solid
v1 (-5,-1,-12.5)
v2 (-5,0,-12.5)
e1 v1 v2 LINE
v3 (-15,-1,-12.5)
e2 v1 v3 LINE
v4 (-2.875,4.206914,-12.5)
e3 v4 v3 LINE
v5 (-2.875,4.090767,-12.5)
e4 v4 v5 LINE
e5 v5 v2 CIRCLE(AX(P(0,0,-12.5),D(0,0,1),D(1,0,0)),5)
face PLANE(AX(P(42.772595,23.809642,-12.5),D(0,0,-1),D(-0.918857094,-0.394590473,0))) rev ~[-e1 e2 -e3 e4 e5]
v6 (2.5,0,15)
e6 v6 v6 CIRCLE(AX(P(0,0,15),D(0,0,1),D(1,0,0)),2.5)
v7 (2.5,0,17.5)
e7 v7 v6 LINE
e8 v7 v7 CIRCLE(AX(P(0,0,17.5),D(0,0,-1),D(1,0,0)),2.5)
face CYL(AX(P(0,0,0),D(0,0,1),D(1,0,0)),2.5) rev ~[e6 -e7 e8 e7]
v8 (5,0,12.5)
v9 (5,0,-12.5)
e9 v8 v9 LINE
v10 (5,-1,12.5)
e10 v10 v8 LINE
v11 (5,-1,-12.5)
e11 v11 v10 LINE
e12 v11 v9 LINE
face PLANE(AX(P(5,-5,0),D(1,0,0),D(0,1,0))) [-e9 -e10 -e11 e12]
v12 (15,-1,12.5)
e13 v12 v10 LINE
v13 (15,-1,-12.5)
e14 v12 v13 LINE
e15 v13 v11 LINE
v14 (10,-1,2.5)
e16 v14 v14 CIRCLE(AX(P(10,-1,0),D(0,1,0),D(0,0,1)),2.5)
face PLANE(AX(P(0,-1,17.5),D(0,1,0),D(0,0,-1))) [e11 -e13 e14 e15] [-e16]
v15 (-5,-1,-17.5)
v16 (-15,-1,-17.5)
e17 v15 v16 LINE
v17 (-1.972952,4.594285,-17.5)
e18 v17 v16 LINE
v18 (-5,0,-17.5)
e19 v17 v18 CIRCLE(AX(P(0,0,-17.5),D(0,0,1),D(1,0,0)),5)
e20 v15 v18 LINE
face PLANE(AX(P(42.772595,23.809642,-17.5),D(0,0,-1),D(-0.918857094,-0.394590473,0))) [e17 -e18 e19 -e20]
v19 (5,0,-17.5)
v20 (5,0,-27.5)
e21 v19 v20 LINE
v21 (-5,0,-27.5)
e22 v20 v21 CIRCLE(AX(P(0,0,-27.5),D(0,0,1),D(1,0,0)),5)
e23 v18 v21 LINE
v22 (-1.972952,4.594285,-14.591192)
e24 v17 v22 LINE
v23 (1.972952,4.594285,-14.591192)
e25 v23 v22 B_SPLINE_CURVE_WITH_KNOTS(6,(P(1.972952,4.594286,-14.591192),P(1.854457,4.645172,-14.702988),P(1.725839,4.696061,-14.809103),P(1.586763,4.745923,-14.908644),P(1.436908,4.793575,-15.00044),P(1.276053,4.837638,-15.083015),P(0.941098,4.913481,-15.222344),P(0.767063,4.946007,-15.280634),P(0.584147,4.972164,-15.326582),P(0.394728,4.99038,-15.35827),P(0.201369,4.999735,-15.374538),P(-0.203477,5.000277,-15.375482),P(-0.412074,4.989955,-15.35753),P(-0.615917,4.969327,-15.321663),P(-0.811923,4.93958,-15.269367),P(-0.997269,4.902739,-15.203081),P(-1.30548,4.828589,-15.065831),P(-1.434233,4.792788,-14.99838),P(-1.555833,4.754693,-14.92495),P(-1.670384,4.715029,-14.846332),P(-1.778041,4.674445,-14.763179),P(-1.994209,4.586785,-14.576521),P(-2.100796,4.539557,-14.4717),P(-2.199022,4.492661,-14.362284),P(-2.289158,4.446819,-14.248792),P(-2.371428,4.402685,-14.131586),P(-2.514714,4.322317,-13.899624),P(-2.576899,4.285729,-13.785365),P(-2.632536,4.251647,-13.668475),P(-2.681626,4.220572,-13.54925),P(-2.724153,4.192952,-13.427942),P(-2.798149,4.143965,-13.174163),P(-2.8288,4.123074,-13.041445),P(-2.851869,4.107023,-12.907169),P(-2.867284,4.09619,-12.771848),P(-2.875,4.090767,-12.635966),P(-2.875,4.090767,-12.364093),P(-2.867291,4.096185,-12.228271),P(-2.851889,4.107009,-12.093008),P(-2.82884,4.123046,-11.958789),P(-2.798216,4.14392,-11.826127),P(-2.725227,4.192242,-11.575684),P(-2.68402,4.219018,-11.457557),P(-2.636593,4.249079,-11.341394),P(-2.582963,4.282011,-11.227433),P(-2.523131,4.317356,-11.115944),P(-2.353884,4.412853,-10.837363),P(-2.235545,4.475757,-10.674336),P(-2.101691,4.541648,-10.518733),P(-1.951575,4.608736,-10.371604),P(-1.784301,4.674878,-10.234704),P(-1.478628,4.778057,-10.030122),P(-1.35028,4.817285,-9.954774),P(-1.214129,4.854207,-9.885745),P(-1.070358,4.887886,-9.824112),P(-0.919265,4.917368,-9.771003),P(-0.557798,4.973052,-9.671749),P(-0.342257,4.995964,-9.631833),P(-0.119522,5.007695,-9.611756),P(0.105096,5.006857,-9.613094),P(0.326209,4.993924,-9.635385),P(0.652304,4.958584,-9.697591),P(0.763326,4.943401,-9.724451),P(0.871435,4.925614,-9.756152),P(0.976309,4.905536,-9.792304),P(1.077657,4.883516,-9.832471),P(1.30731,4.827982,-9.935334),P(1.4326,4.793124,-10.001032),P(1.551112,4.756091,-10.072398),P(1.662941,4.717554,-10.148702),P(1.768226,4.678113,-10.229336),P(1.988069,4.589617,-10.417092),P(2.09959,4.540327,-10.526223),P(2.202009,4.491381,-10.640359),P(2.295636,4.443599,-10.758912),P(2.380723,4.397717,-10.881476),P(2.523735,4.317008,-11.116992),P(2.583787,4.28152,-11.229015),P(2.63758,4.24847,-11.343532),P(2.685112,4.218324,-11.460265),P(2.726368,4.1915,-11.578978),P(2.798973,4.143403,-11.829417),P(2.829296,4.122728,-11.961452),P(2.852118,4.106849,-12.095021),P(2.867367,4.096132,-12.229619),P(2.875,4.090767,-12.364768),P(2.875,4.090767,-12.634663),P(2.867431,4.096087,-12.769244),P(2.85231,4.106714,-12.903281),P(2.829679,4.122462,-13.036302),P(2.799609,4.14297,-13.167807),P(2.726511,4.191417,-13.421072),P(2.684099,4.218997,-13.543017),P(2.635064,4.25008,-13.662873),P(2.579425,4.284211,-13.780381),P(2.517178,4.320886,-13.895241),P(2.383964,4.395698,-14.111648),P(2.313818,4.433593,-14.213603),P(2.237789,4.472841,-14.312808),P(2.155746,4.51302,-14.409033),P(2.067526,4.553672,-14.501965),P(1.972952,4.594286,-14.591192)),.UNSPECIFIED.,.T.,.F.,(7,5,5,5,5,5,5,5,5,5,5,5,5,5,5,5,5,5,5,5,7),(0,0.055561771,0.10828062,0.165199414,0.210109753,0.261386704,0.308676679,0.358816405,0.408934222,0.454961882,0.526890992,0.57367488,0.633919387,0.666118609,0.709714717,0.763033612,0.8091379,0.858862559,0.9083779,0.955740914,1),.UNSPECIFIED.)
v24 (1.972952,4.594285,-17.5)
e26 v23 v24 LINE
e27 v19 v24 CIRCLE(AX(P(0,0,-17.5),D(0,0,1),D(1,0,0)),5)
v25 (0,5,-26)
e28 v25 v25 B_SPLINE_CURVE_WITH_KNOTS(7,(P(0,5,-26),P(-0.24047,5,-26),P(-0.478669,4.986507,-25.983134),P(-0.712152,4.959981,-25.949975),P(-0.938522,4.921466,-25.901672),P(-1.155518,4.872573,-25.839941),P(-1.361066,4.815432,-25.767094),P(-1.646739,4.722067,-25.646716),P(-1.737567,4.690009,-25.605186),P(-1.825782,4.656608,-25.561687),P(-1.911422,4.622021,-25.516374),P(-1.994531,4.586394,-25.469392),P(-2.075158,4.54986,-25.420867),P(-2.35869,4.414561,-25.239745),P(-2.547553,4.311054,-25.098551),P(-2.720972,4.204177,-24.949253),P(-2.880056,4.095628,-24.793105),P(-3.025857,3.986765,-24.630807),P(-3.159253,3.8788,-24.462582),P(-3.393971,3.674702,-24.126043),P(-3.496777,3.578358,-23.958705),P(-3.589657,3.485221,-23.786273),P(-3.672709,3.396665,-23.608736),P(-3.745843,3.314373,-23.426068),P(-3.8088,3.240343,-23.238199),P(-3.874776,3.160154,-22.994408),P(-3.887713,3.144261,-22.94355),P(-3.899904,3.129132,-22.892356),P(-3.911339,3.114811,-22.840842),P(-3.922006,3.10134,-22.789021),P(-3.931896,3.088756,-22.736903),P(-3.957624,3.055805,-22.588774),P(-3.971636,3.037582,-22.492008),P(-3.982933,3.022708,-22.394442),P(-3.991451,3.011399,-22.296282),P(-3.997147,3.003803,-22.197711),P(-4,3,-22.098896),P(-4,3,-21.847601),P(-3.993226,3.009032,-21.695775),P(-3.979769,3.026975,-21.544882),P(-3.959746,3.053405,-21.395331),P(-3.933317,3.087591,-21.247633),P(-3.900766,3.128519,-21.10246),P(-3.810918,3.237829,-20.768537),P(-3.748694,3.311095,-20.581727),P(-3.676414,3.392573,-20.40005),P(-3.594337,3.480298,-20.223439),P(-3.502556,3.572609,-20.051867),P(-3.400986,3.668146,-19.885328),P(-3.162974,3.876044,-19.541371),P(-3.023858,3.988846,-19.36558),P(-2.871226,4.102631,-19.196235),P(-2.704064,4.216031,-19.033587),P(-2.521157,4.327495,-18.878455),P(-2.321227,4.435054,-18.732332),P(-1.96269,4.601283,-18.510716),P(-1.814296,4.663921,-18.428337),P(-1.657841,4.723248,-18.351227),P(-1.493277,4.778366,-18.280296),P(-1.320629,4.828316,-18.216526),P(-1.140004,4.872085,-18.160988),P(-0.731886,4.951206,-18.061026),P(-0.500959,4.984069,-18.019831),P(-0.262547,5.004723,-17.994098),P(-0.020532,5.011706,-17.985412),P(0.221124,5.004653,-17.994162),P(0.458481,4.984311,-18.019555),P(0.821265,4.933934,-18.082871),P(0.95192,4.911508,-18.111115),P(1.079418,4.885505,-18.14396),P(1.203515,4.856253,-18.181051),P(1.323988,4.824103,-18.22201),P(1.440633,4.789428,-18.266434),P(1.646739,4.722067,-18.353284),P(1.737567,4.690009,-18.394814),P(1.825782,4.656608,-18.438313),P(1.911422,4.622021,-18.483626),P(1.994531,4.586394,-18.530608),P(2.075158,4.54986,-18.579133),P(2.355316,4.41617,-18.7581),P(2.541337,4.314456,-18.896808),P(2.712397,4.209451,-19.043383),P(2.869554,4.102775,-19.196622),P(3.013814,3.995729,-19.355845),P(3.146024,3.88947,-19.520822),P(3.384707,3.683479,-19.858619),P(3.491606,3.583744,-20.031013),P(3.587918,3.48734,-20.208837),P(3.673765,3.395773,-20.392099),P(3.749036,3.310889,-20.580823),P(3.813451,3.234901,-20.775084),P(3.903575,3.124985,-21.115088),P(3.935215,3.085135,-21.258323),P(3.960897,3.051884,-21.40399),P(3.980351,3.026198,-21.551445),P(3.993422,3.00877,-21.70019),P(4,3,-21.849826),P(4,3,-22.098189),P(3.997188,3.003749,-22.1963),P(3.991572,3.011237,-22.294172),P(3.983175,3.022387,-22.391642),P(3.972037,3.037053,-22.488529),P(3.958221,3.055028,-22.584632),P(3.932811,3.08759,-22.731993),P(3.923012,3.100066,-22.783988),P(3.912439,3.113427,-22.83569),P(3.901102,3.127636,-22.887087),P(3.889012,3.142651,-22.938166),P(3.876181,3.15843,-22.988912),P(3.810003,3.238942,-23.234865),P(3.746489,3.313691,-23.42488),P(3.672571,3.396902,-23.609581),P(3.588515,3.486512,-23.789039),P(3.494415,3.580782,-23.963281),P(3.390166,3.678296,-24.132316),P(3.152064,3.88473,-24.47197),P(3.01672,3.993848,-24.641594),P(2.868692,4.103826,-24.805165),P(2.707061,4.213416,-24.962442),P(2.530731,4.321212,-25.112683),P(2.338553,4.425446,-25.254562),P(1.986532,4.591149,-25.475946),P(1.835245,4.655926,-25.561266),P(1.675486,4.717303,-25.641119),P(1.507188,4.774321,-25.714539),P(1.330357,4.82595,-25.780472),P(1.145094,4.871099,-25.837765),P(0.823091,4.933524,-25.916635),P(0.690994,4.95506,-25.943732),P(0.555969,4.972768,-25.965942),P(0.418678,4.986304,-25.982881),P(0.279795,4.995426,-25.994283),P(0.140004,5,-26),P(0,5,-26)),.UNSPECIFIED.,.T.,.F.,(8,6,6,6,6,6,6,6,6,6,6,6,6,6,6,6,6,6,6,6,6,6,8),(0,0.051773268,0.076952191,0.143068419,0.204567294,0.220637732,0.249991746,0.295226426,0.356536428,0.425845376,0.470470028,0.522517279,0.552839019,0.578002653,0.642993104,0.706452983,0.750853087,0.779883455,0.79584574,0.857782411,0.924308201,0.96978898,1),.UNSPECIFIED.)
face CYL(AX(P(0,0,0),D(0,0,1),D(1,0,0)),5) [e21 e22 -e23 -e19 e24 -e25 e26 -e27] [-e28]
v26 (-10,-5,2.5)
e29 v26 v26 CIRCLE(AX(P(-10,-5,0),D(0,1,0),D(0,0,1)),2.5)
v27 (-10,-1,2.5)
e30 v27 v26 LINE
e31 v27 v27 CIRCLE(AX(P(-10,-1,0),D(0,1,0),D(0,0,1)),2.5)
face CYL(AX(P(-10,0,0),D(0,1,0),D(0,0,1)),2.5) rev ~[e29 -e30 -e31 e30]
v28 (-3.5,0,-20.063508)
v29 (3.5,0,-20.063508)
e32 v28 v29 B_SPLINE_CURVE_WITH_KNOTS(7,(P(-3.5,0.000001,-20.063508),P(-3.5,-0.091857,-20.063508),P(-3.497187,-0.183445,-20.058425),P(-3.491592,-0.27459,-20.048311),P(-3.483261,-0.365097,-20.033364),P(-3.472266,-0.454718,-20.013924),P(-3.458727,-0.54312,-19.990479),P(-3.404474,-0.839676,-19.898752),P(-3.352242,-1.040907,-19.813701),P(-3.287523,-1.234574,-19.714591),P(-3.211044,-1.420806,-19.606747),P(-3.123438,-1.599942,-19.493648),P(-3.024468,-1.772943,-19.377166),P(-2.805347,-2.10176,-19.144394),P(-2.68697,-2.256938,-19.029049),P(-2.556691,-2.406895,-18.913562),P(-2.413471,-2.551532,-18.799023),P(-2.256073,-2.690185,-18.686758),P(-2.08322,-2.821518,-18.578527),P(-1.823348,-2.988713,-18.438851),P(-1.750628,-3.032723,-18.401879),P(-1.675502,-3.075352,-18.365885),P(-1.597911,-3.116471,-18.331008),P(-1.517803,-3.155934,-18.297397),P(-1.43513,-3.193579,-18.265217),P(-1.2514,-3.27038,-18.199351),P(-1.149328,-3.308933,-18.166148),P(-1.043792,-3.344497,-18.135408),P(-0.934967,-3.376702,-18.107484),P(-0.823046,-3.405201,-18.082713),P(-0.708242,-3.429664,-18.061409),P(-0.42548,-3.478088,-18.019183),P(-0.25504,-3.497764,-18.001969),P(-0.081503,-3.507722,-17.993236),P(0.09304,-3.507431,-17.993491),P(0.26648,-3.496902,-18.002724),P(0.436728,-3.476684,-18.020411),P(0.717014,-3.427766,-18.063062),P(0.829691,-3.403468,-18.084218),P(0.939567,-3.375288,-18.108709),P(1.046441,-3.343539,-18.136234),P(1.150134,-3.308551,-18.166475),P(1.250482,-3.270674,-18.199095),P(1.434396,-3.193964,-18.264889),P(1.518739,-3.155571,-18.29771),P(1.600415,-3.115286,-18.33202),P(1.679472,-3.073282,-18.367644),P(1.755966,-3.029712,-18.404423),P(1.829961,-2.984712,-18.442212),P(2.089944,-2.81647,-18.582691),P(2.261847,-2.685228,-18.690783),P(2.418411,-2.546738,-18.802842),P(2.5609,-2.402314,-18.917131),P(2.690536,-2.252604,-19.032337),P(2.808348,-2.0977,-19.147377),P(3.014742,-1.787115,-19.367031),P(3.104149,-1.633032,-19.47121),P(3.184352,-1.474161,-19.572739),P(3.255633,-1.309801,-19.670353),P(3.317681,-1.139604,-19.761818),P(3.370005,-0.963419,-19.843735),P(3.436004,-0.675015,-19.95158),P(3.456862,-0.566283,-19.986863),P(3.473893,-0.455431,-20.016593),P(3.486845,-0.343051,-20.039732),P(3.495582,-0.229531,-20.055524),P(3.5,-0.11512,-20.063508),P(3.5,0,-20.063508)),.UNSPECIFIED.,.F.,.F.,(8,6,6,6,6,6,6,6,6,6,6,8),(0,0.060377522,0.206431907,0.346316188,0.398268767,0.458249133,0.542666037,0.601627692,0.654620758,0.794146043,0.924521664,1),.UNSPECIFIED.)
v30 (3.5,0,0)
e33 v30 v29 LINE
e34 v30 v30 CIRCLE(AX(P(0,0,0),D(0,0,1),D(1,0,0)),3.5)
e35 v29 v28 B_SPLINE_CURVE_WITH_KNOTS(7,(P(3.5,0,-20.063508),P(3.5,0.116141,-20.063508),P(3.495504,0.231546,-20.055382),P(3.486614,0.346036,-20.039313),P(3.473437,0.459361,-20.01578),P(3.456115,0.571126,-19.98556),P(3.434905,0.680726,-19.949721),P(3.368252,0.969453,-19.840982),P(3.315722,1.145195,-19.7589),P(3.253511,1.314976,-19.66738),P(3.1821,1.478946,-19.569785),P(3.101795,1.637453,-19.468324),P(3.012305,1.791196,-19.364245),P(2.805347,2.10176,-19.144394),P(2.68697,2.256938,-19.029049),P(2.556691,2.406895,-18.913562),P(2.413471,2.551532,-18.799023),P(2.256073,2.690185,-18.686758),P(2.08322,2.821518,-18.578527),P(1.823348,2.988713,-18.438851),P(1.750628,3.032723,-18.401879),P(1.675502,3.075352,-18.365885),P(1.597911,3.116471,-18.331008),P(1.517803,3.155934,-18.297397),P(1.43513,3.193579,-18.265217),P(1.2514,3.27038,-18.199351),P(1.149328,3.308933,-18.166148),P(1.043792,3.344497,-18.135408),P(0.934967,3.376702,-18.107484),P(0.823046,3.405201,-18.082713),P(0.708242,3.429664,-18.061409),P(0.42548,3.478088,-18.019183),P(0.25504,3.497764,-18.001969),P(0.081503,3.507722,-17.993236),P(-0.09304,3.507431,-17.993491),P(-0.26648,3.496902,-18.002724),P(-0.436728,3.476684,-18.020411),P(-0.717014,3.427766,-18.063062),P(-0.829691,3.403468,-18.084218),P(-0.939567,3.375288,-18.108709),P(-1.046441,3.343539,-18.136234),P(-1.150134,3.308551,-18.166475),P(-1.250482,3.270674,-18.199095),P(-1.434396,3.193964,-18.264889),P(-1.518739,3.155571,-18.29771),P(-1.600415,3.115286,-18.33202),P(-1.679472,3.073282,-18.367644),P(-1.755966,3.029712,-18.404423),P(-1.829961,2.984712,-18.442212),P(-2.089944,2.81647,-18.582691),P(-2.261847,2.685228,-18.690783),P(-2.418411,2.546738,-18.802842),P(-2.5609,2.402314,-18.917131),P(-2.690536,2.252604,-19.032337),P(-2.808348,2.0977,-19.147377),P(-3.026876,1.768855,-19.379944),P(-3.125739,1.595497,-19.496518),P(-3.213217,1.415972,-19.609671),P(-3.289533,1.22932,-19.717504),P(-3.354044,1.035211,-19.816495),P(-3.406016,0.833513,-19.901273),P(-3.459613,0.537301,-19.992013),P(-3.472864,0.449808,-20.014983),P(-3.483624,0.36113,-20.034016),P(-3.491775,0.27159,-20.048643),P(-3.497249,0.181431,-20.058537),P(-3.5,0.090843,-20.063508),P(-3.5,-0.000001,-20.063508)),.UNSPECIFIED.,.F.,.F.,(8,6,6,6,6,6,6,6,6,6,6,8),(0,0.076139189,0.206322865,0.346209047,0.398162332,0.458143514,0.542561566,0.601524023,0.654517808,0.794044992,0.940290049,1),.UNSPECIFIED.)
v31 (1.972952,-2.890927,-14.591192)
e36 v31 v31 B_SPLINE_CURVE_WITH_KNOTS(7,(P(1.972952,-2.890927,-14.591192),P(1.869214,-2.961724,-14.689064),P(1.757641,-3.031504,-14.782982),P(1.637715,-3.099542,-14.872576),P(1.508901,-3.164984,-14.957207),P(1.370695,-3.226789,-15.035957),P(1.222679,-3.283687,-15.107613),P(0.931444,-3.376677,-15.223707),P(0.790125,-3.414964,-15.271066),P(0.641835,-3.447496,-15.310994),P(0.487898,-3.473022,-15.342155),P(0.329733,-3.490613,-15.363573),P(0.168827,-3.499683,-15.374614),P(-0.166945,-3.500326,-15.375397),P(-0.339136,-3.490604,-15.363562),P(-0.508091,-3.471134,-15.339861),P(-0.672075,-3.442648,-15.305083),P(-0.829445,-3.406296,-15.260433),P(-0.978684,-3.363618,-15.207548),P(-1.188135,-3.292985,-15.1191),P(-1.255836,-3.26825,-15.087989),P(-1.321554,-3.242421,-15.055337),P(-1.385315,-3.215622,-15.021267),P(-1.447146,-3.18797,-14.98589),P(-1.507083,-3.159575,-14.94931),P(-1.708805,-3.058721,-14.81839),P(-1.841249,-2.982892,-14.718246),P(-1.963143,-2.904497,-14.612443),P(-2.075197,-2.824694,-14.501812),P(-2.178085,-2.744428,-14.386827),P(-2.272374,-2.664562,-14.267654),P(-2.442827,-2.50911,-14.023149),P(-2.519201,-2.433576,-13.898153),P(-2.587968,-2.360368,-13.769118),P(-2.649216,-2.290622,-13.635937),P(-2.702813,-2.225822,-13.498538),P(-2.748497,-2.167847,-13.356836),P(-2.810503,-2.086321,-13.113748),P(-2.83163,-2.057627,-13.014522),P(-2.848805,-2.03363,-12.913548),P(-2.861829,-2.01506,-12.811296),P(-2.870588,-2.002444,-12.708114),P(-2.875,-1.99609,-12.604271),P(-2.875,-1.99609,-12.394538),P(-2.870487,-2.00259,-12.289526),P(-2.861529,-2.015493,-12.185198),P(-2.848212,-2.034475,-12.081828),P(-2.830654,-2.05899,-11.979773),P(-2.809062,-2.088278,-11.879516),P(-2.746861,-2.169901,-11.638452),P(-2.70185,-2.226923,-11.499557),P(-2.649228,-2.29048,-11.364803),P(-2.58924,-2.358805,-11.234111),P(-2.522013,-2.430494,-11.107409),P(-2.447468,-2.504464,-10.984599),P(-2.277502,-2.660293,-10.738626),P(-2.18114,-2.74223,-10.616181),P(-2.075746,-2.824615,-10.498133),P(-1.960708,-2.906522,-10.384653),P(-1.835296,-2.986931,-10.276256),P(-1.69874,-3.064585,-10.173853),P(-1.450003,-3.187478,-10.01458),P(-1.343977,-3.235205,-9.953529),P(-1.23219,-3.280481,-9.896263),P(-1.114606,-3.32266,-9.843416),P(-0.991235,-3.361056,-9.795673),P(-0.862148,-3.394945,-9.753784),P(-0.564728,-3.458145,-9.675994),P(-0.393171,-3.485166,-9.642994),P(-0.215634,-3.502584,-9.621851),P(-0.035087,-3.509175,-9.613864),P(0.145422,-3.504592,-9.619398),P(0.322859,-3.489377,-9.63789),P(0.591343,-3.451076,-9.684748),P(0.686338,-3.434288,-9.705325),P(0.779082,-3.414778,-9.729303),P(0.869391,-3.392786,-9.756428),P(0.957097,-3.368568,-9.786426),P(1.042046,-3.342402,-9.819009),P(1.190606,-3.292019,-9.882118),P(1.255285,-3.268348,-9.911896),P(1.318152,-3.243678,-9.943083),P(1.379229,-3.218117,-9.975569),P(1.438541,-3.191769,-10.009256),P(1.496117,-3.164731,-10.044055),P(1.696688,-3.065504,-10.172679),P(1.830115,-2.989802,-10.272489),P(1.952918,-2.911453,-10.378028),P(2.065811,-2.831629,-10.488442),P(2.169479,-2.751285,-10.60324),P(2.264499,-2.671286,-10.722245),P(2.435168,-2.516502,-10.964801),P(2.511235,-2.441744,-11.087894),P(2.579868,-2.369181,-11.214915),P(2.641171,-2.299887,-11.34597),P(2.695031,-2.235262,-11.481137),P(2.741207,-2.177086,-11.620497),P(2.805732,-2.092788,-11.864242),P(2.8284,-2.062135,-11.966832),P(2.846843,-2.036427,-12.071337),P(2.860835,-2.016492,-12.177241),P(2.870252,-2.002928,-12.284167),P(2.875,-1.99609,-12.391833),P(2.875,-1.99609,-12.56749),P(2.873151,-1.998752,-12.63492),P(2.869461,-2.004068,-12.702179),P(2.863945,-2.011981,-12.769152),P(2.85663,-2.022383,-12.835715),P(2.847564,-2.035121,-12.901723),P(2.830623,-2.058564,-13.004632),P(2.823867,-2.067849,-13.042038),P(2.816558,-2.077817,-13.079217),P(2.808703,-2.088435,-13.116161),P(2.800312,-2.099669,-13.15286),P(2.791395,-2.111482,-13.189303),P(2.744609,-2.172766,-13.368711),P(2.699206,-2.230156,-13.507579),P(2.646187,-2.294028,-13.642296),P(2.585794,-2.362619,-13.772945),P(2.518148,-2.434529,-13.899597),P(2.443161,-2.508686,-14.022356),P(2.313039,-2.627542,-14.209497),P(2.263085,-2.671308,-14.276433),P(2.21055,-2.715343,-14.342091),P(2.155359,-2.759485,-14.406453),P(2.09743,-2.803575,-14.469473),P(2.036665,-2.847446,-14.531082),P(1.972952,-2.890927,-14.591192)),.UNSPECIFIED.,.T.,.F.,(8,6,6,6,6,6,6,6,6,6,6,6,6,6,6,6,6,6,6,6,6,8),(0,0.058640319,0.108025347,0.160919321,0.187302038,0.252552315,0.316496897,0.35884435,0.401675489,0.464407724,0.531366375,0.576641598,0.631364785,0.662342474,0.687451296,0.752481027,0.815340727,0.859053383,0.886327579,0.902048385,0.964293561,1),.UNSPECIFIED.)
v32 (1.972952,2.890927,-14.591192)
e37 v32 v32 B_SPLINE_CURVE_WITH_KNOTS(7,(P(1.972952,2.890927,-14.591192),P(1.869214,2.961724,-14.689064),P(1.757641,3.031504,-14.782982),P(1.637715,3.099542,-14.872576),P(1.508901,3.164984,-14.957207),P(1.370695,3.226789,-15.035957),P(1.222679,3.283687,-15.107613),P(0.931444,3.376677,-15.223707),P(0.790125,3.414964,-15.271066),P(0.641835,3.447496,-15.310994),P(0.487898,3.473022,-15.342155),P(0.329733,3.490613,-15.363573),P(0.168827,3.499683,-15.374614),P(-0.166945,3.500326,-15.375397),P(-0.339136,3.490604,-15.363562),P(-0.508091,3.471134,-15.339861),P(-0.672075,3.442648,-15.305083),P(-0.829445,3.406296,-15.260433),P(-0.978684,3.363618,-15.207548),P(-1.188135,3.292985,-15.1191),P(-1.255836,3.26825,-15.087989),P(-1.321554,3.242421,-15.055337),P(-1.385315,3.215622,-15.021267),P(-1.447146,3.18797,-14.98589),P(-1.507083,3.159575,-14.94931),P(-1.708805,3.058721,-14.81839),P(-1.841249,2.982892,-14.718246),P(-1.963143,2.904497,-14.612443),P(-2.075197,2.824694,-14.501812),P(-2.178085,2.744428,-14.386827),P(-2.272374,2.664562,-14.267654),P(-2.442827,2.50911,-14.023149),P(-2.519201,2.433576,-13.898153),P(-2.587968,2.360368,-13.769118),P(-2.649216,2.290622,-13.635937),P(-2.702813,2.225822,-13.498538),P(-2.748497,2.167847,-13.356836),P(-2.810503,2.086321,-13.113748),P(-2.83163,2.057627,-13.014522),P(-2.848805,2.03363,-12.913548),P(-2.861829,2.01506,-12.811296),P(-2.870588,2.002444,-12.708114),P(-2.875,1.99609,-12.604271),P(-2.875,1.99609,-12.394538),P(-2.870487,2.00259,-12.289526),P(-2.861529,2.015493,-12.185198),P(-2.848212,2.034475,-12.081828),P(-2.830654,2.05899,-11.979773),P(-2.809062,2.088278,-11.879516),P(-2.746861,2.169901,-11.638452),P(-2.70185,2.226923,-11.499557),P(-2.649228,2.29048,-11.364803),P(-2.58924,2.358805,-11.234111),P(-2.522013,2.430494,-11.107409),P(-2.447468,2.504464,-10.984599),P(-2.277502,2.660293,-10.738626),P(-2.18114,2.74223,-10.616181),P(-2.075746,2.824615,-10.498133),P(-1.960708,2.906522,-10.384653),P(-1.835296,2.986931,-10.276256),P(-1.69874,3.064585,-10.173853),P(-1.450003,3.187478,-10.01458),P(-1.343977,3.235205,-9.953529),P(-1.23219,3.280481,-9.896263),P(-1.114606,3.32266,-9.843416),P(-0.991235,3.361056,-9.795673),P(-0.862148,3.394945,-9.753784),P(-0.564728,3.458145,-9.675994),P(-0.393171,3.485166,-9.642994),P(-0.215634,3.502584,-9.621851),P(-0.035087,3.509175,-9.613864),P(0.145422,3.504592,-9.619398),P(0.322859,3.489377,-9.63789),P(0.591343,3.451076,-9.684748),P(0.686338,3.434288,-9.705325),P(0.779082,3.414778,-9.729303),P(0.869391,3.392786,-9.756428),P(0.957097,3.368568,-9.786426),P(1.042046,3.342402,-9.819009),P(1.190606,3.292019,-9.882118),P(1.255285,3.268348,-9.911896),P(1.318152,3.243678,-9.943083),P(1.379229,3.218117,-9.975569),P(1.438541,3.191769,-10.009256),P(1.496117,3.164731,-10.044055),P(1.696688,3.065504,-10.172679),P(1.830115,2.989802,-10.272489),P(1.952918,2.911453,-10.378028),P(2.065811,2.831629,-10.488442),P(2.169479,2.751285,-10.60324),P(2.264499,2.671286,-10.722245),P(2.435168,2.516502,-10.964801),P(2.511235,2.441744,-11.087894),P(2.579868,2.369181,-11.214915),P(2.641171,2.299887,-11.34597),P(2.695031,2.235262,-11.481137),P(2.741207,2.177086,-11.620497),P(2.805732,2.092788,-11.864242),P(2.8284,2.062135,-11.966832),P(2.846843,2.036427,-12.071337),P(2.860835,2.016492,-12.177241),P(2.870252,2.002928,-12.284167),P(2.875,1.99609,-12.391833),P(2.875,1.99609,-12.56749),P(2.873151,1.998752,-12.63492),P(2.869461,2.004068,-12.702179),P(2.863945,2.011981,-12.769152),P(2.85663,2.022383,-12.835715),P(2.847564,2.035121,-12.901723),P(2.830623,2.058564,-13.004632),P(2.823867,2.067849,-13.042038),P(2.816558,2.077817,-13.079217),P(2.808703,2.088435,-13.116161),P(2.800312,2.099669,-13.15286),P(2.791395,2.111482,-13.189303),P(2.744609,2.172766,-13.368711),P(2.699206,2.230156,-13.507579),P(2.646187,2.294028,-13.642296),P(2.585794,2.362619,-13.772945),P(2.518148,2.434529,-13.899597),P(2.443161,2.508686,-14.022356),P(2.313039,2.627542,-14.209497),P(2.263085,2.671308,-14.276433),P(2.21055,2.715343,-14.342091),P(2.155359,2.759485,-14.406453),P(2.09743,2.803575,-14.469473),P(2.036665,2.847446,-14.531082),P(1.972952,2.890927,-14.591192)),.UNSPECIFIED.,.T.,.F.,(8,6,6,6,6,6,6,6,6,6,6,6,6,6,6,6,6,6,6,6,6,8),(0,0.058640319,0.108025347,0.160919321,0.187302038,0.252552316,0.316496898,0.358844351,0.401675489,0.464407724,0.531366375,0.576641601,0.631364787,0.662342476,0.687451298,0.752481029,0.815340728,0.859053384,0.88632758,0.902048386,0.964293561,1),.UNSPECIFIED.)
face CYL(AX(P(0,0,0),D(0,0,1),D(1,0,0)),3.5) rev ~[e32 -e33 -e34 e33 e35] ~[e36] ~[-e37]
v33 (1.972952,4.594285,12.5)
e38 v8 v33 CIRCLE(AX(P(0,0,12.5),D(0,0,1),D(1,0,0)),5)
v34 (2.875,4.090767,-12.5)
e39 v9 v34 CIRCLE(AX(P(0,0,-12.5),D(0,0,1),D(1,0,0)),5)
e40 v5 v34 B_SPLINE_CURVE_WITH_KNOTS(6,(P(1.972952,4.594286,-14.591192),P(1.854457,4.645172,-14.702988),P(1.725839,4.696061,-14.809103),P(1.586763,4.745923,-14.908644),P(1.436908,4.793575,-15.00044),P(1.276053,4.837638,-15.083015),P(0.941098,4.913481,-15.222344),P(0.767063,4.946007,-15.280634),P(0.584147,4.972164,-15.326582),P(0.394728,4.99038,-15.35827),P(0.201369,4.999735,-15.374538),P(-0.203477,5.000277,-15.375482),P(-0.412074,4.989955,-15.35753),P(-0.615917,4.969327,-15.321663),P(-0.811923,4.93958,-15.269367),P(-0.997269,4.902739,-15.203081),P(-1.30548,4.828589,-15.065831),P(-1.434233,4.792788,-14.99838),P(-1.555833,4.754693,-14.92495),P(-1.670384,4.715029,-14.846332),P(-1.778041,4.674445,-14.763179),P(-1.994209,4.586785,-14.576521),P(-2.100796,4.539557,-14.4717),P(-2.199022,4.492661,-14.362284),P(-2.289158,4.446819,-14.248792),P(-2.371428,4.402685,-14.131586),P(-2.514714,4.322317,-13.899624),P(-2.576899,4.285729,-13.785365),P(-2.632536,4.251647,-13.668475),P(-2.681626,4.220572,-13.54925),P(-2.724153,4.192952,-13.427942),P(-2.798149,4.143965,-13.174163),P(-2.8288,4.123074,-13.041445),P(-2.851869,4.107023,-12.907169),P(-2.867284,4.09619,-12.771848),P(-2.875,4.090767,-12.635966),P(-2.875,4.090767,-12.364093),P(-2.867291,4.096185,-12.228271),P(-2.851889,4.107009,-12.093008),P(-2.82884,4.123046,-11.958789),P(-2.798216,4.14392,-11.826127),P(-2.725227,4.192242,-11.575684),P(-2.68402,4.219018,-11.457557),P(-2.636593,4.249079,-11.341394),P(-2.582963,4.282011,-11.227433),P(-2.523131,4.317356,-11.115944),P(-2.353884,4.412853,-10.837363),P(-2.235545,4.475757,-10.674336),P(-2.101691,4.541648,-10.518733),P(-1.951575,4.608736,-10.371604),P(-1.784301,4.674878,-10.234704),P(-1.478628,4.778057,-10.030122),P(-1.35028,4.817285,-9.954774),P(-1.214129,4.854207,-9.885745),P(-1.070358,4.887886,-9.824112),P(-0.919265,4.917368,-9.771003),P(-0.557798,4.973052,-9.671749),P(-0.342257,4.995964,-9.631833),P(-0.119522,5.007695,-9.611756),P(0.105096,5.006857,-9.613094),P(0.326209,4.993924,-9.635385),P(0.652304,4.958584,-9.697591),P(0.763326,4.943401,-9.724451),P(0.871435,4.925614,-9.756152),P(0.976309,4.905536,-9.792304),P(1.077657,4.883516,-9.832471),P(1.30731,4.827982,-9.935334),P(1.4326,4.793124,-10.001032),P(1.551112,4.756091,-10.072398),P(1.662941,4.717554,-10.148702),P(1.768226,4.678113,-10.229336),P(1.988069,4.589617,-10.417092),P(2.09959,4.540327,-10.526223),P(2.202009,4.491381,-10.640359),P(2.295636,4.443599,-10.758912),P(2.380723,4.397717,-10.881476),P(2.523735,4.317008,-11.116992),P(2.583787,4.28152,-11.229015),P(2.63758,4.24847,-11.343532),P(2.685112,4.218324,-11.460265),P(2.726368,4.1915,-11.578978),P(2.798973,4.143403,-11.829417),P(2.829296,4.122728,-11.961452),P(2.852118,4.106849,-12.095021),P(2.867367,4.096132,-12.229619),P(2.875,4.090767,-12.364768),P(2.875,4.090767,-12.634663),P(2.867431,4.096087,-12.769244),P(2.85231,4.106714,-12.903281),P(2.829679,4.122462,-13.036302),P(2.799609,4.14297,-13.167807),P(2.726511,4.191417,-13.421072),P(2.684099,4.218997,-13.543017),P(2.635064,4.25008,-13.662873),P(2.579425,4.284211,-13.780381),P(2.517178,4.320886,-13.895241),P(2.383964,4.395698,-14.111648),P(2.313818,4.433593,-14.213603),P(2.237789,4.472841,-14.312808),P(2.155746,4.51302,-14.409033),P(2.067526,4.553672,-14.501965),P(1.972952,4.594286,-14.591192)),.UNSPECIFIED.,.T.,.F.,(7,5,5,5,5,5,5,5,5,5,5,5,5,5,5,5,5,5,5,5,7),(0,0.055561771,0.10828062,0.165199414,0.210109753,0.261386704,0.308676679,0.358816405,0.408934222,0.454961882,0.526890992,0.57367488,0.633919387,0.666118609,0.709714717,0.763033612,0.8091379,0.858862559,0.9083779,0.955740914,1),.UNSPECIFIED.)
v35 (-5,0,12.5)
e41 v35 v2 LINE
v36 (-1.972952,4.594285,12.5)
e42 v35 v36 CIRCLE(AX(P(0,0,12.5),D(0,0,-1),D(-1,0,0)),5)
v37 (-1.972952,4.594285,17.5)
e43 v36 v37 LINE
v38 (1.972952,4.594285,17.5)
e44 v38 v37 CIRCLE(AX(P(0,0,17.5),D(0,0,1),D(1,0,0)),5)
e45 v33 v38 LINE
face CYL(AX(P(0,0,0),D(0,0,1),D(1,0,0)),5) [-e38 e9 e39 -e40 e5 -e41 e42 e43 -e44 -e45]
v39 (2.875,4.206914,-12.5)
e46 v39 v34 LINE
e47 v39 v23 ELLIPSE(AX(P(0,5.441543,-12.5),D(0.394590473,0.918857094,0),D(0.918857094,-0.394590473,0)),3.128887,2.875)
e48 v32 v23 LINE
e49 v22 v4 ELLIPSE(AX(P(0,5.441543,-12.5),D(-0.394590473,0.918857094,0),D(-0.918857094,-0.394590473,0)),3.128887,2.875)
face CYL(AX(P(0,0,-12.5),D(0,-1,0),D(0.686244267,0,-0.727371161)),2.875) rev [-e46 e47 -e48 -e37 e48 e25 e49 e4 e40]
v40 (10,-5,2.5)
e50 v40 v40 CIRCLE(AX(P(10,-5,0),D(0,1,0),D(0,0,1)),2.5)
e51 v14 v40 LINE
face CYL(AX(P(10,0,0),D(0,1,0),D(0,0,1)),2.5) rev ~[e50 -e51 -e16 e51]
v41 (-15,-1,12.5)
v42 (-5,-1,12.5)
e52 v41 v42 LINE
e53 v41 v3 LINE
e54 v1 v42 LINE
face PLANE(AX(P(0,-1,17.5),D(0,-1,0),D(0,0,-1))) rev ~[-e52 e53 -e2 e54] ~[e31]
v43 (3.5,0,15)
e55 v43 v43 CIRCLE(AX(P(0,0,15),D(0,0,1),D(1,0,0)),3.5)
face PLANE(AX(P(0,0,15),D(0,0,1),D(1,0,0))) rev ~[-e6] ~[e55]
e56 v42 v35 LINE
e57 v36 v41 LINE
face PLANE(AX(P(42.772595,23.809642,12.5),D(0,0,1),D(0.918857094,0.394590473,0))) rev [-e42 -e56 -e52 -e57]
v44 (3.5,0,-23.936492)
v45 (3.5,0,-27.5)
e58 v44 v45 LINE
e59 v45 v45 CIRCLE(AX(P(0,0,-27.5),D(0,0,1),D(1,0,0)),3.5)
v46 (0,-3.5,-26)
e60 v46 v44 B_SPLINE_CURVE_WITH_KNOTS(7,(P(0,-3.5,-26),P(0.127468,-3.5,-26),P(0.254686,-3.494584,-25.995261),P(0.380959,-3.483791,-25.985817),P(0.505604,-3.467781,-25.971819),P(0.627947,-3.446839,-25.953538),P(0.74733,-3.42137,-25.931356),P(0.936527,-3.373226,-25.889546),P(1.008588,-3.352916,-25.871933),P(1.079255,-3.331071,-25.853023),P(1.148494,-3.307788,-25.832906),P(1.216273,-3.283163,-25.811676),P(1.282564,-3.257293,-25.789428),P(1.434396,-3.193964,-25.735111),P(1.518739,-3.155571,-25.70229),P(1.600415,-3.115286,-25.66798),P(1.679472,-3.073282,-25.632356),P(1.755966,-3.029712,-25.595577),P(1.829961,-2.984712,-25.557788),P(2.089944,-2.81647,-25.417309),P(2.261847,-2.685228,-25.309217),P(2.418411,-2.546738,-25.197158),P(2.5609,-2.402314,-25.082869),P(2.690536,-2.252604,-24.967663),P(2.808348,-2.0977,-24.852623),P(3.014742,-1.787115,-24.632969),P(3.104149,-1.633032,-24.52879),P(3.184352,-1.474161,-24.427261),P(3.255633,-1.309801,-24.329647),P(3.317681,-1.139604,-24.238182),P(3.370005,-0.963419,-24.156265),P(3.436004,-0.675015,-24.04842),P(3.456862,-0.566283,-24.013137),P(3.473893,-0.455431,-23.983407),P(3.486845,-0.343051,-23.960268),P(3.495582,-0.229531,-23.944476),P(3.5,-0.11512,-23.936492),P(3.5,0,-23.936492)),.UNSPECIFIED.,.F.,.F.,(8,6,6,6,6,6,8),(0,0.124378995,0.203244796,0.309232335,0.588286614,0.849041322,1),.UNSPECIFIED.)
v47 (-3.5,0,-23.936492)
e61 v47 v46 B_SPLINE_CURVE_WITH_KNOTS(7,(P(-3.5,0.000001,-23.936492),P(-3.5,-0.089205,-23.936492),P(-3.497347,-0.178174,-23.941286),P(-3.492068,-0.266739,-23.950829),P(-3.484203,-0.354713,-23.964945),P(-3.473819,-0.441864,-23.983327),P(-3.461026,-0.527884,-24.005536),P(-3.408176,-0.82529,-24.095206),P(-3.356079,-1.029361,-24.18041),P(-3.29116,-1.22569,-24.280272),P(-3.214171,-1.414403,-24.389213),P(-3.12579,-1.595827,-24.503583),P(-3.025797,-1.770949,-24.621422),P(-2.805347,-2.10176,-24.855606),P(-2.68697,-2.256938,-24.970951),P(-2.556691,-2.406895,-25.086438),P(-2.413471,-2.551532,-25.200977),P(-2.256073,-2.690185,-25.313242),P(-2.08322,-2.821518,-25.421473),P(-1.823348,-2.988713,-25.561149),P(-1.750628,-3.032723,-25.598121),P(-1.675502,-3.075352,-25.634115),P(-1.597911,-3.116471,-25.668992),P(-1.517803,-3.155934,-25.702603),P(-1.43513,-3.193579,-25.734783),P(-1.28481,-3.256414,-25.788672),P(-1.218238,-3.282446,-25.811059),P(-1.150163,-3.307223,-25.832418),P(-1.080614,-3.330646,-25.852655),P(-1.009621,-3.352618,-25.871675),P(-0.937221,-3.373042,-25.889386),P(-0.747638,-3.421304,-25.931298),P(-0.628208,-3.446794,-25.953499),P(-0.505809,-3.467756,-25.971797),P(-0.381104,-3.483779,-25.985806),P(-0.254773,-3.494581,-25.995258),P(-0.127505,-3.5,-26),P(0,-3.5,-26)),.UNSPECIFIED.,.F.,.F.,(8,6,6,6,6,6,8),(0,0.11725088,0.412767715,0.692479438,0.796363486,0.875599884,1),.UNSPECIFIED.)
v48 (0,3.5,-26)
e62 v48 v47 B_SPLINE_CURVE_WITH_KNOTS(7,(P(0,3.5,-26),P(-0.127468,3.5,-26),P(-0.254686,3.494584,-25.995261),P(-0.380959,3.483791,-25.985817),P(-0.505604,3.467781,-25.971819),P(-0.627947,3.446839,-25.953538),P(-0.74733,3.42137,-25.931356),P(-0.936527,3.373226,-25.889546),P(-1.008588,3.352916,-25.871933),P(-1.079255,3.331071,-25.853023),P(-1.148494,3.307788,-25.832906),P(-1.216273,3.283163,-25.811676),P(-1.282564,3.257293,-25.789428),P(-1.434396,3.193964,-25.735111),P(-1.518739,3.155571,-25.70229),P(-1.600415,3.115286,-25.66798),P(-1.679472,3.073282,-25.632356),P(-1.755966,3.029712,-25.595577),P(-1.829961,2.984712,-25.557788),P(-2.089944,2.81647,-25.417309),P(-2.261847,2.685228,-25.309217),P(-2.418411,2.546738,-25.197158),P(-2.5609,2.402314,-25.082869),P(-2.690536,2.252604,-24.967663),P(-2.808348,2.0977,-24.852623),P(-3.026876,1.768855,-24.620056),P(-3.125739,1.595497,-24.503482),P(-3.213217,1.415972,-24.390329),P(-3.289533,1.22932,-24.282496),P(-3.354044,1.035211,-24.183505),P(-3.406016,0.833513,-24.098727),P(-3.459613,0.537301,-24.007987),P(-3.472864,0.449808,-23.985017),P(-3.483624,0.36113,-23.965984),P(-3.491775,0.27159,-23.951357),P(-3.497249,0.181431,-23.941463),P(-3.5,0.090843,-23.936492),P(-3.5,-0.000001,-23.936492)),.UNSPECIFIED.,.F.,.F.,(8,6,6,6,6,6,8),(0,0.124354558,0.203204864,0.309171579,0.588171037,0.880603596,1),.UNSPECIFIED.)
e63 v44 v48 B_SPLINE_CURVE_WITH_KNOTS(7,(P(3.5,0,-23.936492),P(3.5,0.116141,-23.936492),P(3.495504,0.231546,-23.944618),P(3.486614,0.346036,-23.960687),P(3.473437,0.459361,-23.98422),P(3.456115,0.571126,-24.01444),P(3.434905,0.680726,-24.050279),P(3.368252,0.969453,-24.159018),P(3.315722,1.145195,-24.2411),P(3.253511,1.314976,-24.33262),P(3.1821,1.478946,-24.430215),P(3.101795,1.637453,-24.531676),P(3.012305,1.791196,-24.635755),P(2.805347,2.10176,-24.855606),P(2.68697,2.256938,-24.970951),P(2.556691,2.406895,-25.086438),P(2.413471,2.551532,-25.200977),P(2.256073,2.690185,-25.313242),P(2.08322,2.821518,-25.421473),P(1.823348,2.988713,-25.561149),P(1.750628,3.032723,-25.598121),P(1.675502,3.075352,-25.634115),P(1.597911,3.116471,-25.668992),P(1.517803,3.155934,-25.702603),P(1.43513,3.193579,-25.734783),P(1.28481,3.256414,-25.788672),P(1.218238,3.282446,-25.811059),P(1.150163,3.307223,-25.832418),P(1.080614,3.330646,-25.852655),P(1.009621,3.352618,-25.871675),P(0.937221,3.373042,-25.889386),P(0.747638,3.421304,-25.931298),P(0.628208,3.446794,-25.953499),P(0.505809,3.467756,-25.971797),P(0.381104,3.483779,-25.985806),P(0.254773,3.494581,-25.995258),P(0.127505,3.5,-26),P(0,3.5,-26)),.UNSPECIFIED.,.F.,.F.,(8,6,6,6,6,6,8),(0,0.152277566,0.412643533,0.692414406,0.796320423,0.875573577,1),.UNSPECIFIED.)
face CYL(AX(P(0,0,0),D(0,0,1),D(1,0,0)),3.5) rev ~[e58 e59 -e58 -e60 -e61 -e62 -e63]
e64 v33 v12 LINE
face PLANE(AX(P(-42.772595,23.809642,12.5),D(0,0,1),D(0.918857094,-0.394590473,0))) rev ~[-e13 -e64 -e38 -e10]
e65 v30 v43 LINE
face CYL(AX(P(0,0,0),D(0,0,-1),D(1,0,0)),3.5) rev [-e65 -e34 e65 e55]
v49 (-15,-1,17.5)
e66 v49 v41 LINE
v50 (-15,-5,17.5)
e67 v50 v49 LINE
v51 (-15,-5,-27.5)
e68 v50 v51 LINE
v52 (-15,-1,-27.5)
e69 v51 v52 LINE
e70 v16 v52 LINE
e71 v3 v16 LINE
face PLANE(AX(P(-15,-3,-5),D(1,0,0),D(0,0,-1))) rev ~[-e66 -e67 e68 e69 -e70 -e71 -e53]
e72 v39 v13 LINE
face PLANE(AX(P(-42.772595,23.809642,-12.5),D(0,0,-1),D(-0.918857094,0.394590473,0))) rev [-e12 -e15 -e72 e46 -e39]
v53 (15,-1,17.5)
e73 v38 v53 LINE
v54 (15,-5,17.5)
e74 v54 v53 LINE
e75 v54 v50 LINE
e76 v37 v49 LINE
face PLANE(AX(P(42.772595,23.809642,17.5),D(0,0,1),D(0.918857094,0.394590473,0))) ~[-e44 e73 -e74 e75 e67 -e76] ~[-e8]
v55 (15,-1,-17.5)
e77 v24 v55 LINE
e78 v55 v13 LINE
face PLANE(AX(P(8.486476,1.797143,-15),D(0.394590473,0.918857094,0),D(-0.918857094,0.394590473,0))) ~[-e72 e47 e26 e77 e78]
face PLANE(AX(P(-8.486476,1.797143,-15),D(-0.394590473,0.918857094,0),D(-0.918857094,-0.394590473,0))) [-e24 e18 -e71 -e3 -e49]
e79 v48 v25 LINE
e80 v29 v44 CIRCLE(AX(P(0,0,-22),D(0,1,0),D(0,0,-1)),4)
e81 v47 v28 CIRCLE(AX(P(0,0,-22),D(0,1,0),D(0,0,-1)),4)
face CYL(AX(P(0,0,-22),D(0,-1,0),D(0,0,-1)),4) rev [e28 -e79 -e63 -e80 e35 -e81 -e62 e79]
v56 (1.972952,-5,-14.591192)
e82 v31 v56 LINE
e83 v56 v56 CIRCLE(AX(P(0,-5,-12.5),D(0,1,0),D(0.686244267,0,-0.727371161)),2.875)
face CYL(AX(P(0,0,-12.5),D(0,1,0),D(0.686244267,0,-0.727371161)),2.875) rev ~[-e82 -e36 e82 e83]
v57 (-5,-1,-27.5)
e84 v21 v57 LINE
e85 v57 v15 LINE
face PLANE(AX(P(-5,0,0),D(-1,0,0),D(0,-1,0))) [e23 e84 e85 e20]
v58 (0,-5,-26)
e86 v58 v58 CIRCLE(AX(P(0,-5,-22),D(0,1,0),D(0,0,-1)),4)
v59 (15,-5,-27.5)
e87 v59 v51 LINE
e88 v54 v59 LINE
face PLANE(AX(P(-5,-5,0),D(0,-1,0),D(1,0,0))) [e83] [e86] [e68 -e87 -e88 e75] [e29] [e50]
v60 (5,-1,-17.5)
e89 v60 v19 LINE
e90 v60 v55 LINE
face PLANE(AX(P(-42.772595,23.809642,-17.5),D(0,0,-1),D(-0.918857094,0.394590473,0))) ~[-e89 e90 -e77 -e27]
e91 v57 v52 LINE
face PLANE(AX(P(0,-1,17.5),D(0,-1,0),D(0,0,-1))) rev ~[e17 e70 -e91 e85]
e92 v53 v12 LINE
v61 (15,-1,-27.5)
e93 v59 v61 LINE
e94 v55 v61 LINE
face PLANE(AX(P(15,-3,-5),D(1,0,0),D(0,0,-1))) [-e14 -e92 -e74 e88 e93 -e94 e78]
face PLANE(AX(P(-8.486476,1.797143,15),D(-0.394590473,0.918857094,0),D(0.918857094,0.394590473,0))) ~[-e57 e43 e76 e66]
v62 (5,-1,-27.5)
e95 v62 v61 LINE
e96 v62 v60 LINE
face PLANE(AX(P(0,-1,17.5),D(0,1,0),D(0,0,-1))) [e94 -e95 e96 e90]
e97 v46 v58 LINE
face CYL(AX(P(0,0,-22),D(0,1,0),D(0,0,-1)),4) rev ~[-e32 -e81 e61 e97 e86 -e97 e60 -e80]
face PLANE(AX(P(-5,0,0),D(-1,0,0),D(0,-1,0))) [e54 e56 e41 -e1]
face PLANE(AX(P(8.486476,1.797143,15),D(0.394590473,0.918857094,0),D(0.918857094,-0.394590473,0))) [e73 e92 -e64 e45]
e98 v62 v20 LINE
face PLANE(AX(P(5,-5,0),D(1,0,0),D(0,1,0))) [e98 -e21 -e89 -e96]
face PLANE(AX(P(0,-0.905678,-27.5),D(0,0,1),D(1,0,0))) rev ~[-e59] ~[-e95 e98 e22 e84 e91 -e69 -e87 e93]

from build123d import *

# Parameters (mm, degrees)
BOSS_EXTRUDE1_DEPTH      = 17.5
BOSS_EXTRUDE1_DEPTH_BACK = 27.5
SKETCH2_W                = 45
SKETCH2_H                = 4
BOSS_EXTRUDE2_DEPTH      = 15
BOSS_EXTRUDE2_DEPTH_BACK = 15
SKETCH3_R                = 2.5
CUT_EXTRUDE1_DEPTH       = 32.721443851
CUT_EXTRUDE1_DEPTH_BACK  = 32.721443851
RIB1_REACH               = 49.697
SKETCH5_WALL_W           = 111.57136702
SKETCH5_WALL_H           = 5
MIRROR2_COPY_1_REACH     = 49.697
MIRROR2_COPY_1_SKETCH_W  = 111.57136702
MIRROR2_COPY_1_SKETCH_H  = 5
SKETCH7_R                = 2.5
CUT_EXTRUDE2_DEPTH       = 32.721443851
CUT_EXTRUDE2_DEPTH_BACK  = 32.721443851
SKETCH8_R                = 2.875
CUT_EXTRUDE3_DEPTH       = 32.721443851
CUT_EXTRUDE3_DEPTH_BACK  = 32.721443851
SKETCH9_R                = 3.5
CUT_EXTRUDE4_DEPTH       = 15
CUT_EXTRUDE4_DEPTH_BACK  = 32.721443955
SKETCH10_R               = 4
CUT_EXTRUDE5_DEPTH       = 32.721443955
CUT_EXTRUDE5_DEPTH_BACK  = 32.721443955


with BuildPart() as part:
    # Sketch1 → Boss-Extrude1 (new, two sides)
    with BuildSketch(Plane.XY) as boss_extrude1_sk:
        with BuildLine():
            Line((-5, 0), (-5, -5))
            Line((-5, -5), (5, -5))
            Line((5, -5), (5, 0))
            ThreePointArc((5, 0), (0, 5), (-5, 0))
        make_face()
    extrude(amount=BOSS_EXTRUDE1_DEPTH)
    extrude(boss_extrude1_sk.sketch, amount=-BOSS_EXTRUDE1_DEPTH_BACK)

    # Sketch2 → Boss-Extrude2 (add, two sides)
    with BuildSketch(Plane(origin=(0, 0, 0), x_dir=(0, 0, -1), z_dir=(1, 0, 0))) as boss_extrude2_sk:
        with Locations((5, -3)):
            Rectangle(SKETCH2_W, SKETCH2_H)
    extrude(amount=BOSS_EXTRUDE2_DEPTH)
    extrude(boss_extrude2_sk.sketch, amount=-BOSS_EXTRUDE2_DEPTH_BACK)

    # Sketch3 → Cut-Extrude1 (cut, two sides)
    with BuildSketch(Plane.XY) as cut_extrude1_sk:
        Circle(SKETCH3_R)
    extrude(amount=CUT_EXTRUDE1_DEPTH, mode=Mode.SUBTRACT)
    extrude(cut_extrude1_sk.sketch, amount=-CUT_EXTRUDE1_DEPTH_BACK, mode=Mode.SUBTRACT)

    # Sketch5 wall → Rib1 (add, up to next)
    with BuildSketch(Plane(origin=(8.486476183, 1.797142734, 17.5), x_dir=(0.918857093708, -0.394590472949, 0), z_dir=(0.394590472949, 0.918857093708, 0)), mode=Mode.PRIVATE) as rib1_sk1:
        with Locations((0, 2.5)):
            Rectangle(SKETCH5_WALL_W, SKETCH5_WALL_H)
    rib1_tool1 = extrude(rib1_sk1.sketch, amount=-RIB1_REACH, mode=Mode.PRIVATE) - part.part
    rib1 = rib1_tool1.solids().sort_by_distance((8.486476183, 1.797142734, 17.5))[0]
    add(rib1)

    # Mirror1: Rib1 across plane
    add(rib1.mirror(Plane.XY))

    # Mirror2: Rib1 across plane
    add(rib1.mirror(Plane(origin=(0, 0, 0), x_dir=(0, 0, 1), z_dir=(1, 0, 0))))

    # Mirror2 copy 1 sketch → Mirror2 copy 1 (add, up to next)
    with BuildSketch(Plane(origin=(-8.486476183, 1.797142734, -17.5), x_dir=(-0.918857093708, -0.394590472949, 0), z_dir=(-0.394590472949, 0.918857093708, 0)), mode=Mode.PRIVATE) as mirror2_copy_1_sk1:
        with Locations((0, 2.5)):
            Rectangle(MIRROR2_COPY_1_SKETCH_W, MIRROR2_COPY_1_SKETCH_H)
    mirror2_copy_1_tool1 = extrude(mirror2_copy_1_sk1.sketch, amount=-MIRROR2_COPY_1_REACH, mode=Mode.PRIVATE) - part.part
    add(mirror2_copy_1_tool1.solids().sort_by_distance((-8.486476183, 1.797142734, -17.5))[0])

    # Sketch7 → Cut-Extrude2 (cut, two sides)
    with BuildSketch(Plane(origin=(0, 0, 0), x_dir=(1, 0, 0), z_dir=(0, 1, 0))) as cut_extrude2_sk:
        with Locations(Location((-10, 0, 0), (0, 0, 270))):
            Circle(SKETCH7_R)
        with Locations(Location((10, 0, 0), (0, 0, 270))):
            Circle(SKETCH7_R)
    extrude(amount=CUT_EXTRUDE2_DEPTH, mode=Mode.SUBTRACT)
    extrude(cut_extrude2_sk.sketch, amount=-CUT_EXTRUDE2_DEPTH_BACK, mode=Mode.SUBTRACT)

    # Sketch8 → Cut-Extrude3 (cut, two sides)
    with BuildSketch(Plane(origin=(0, 0, 0), x_dir=(1, 0, 0), z_dir=(0, 1, 0))) as cut_extrude3_sk:
        with Locations(Location((0, 12.5, 0), (0, 0, 46.666459534))):
            Circle(SKETCH8_R)
    extrude(amount=CUT_EXTRUDE3_DEPTH, mode=Mode.SUBTRACT)
    extrude(cut_extrude3_sk.sketch, amount=-CUT_EXTRUDE3_DEPTH_BACK, mode=Mode.SUBTRACT)

    # Sketch9 → Cut-Extrude4 (cut, two sides)
    with BuildSketch(Plane.XY) as cut_extrude4_sk:
        Circle(SKETCH9_R)
    extrude(amount=CUT_EXTRUDE4_DEPTH, mode=Mode.SUBTRACT)
    extrude(cut_extrude4_sk.sketch, amount=-CUT_EXTRUDE4_DEPTH_BACK, mode=Mode.SUBTRACT)

    # Sketch10 → Cut-Extrude5 (cut, two sides)
    with BuildSketch(Plane(origin=(0, 0, 0), x_dir=(1, 0, 0), z_dir=(0, 1, 0))) as cut_extrude5_sk:
        with Locations(Location((0, 22, 0), (0, 0, 90))):
            Circle(SKETCH10_R)
    extrude(amount=CUT_EXTRUDE5_DEPTH, mode=Mode.SUBTRACT)
    extrude(cut_extrude5_sk.sketch, amount=-CUT_EXTRUDE5_DEPTH_BACK, mode=Mode.SUBTRACT)


solid = part.part
